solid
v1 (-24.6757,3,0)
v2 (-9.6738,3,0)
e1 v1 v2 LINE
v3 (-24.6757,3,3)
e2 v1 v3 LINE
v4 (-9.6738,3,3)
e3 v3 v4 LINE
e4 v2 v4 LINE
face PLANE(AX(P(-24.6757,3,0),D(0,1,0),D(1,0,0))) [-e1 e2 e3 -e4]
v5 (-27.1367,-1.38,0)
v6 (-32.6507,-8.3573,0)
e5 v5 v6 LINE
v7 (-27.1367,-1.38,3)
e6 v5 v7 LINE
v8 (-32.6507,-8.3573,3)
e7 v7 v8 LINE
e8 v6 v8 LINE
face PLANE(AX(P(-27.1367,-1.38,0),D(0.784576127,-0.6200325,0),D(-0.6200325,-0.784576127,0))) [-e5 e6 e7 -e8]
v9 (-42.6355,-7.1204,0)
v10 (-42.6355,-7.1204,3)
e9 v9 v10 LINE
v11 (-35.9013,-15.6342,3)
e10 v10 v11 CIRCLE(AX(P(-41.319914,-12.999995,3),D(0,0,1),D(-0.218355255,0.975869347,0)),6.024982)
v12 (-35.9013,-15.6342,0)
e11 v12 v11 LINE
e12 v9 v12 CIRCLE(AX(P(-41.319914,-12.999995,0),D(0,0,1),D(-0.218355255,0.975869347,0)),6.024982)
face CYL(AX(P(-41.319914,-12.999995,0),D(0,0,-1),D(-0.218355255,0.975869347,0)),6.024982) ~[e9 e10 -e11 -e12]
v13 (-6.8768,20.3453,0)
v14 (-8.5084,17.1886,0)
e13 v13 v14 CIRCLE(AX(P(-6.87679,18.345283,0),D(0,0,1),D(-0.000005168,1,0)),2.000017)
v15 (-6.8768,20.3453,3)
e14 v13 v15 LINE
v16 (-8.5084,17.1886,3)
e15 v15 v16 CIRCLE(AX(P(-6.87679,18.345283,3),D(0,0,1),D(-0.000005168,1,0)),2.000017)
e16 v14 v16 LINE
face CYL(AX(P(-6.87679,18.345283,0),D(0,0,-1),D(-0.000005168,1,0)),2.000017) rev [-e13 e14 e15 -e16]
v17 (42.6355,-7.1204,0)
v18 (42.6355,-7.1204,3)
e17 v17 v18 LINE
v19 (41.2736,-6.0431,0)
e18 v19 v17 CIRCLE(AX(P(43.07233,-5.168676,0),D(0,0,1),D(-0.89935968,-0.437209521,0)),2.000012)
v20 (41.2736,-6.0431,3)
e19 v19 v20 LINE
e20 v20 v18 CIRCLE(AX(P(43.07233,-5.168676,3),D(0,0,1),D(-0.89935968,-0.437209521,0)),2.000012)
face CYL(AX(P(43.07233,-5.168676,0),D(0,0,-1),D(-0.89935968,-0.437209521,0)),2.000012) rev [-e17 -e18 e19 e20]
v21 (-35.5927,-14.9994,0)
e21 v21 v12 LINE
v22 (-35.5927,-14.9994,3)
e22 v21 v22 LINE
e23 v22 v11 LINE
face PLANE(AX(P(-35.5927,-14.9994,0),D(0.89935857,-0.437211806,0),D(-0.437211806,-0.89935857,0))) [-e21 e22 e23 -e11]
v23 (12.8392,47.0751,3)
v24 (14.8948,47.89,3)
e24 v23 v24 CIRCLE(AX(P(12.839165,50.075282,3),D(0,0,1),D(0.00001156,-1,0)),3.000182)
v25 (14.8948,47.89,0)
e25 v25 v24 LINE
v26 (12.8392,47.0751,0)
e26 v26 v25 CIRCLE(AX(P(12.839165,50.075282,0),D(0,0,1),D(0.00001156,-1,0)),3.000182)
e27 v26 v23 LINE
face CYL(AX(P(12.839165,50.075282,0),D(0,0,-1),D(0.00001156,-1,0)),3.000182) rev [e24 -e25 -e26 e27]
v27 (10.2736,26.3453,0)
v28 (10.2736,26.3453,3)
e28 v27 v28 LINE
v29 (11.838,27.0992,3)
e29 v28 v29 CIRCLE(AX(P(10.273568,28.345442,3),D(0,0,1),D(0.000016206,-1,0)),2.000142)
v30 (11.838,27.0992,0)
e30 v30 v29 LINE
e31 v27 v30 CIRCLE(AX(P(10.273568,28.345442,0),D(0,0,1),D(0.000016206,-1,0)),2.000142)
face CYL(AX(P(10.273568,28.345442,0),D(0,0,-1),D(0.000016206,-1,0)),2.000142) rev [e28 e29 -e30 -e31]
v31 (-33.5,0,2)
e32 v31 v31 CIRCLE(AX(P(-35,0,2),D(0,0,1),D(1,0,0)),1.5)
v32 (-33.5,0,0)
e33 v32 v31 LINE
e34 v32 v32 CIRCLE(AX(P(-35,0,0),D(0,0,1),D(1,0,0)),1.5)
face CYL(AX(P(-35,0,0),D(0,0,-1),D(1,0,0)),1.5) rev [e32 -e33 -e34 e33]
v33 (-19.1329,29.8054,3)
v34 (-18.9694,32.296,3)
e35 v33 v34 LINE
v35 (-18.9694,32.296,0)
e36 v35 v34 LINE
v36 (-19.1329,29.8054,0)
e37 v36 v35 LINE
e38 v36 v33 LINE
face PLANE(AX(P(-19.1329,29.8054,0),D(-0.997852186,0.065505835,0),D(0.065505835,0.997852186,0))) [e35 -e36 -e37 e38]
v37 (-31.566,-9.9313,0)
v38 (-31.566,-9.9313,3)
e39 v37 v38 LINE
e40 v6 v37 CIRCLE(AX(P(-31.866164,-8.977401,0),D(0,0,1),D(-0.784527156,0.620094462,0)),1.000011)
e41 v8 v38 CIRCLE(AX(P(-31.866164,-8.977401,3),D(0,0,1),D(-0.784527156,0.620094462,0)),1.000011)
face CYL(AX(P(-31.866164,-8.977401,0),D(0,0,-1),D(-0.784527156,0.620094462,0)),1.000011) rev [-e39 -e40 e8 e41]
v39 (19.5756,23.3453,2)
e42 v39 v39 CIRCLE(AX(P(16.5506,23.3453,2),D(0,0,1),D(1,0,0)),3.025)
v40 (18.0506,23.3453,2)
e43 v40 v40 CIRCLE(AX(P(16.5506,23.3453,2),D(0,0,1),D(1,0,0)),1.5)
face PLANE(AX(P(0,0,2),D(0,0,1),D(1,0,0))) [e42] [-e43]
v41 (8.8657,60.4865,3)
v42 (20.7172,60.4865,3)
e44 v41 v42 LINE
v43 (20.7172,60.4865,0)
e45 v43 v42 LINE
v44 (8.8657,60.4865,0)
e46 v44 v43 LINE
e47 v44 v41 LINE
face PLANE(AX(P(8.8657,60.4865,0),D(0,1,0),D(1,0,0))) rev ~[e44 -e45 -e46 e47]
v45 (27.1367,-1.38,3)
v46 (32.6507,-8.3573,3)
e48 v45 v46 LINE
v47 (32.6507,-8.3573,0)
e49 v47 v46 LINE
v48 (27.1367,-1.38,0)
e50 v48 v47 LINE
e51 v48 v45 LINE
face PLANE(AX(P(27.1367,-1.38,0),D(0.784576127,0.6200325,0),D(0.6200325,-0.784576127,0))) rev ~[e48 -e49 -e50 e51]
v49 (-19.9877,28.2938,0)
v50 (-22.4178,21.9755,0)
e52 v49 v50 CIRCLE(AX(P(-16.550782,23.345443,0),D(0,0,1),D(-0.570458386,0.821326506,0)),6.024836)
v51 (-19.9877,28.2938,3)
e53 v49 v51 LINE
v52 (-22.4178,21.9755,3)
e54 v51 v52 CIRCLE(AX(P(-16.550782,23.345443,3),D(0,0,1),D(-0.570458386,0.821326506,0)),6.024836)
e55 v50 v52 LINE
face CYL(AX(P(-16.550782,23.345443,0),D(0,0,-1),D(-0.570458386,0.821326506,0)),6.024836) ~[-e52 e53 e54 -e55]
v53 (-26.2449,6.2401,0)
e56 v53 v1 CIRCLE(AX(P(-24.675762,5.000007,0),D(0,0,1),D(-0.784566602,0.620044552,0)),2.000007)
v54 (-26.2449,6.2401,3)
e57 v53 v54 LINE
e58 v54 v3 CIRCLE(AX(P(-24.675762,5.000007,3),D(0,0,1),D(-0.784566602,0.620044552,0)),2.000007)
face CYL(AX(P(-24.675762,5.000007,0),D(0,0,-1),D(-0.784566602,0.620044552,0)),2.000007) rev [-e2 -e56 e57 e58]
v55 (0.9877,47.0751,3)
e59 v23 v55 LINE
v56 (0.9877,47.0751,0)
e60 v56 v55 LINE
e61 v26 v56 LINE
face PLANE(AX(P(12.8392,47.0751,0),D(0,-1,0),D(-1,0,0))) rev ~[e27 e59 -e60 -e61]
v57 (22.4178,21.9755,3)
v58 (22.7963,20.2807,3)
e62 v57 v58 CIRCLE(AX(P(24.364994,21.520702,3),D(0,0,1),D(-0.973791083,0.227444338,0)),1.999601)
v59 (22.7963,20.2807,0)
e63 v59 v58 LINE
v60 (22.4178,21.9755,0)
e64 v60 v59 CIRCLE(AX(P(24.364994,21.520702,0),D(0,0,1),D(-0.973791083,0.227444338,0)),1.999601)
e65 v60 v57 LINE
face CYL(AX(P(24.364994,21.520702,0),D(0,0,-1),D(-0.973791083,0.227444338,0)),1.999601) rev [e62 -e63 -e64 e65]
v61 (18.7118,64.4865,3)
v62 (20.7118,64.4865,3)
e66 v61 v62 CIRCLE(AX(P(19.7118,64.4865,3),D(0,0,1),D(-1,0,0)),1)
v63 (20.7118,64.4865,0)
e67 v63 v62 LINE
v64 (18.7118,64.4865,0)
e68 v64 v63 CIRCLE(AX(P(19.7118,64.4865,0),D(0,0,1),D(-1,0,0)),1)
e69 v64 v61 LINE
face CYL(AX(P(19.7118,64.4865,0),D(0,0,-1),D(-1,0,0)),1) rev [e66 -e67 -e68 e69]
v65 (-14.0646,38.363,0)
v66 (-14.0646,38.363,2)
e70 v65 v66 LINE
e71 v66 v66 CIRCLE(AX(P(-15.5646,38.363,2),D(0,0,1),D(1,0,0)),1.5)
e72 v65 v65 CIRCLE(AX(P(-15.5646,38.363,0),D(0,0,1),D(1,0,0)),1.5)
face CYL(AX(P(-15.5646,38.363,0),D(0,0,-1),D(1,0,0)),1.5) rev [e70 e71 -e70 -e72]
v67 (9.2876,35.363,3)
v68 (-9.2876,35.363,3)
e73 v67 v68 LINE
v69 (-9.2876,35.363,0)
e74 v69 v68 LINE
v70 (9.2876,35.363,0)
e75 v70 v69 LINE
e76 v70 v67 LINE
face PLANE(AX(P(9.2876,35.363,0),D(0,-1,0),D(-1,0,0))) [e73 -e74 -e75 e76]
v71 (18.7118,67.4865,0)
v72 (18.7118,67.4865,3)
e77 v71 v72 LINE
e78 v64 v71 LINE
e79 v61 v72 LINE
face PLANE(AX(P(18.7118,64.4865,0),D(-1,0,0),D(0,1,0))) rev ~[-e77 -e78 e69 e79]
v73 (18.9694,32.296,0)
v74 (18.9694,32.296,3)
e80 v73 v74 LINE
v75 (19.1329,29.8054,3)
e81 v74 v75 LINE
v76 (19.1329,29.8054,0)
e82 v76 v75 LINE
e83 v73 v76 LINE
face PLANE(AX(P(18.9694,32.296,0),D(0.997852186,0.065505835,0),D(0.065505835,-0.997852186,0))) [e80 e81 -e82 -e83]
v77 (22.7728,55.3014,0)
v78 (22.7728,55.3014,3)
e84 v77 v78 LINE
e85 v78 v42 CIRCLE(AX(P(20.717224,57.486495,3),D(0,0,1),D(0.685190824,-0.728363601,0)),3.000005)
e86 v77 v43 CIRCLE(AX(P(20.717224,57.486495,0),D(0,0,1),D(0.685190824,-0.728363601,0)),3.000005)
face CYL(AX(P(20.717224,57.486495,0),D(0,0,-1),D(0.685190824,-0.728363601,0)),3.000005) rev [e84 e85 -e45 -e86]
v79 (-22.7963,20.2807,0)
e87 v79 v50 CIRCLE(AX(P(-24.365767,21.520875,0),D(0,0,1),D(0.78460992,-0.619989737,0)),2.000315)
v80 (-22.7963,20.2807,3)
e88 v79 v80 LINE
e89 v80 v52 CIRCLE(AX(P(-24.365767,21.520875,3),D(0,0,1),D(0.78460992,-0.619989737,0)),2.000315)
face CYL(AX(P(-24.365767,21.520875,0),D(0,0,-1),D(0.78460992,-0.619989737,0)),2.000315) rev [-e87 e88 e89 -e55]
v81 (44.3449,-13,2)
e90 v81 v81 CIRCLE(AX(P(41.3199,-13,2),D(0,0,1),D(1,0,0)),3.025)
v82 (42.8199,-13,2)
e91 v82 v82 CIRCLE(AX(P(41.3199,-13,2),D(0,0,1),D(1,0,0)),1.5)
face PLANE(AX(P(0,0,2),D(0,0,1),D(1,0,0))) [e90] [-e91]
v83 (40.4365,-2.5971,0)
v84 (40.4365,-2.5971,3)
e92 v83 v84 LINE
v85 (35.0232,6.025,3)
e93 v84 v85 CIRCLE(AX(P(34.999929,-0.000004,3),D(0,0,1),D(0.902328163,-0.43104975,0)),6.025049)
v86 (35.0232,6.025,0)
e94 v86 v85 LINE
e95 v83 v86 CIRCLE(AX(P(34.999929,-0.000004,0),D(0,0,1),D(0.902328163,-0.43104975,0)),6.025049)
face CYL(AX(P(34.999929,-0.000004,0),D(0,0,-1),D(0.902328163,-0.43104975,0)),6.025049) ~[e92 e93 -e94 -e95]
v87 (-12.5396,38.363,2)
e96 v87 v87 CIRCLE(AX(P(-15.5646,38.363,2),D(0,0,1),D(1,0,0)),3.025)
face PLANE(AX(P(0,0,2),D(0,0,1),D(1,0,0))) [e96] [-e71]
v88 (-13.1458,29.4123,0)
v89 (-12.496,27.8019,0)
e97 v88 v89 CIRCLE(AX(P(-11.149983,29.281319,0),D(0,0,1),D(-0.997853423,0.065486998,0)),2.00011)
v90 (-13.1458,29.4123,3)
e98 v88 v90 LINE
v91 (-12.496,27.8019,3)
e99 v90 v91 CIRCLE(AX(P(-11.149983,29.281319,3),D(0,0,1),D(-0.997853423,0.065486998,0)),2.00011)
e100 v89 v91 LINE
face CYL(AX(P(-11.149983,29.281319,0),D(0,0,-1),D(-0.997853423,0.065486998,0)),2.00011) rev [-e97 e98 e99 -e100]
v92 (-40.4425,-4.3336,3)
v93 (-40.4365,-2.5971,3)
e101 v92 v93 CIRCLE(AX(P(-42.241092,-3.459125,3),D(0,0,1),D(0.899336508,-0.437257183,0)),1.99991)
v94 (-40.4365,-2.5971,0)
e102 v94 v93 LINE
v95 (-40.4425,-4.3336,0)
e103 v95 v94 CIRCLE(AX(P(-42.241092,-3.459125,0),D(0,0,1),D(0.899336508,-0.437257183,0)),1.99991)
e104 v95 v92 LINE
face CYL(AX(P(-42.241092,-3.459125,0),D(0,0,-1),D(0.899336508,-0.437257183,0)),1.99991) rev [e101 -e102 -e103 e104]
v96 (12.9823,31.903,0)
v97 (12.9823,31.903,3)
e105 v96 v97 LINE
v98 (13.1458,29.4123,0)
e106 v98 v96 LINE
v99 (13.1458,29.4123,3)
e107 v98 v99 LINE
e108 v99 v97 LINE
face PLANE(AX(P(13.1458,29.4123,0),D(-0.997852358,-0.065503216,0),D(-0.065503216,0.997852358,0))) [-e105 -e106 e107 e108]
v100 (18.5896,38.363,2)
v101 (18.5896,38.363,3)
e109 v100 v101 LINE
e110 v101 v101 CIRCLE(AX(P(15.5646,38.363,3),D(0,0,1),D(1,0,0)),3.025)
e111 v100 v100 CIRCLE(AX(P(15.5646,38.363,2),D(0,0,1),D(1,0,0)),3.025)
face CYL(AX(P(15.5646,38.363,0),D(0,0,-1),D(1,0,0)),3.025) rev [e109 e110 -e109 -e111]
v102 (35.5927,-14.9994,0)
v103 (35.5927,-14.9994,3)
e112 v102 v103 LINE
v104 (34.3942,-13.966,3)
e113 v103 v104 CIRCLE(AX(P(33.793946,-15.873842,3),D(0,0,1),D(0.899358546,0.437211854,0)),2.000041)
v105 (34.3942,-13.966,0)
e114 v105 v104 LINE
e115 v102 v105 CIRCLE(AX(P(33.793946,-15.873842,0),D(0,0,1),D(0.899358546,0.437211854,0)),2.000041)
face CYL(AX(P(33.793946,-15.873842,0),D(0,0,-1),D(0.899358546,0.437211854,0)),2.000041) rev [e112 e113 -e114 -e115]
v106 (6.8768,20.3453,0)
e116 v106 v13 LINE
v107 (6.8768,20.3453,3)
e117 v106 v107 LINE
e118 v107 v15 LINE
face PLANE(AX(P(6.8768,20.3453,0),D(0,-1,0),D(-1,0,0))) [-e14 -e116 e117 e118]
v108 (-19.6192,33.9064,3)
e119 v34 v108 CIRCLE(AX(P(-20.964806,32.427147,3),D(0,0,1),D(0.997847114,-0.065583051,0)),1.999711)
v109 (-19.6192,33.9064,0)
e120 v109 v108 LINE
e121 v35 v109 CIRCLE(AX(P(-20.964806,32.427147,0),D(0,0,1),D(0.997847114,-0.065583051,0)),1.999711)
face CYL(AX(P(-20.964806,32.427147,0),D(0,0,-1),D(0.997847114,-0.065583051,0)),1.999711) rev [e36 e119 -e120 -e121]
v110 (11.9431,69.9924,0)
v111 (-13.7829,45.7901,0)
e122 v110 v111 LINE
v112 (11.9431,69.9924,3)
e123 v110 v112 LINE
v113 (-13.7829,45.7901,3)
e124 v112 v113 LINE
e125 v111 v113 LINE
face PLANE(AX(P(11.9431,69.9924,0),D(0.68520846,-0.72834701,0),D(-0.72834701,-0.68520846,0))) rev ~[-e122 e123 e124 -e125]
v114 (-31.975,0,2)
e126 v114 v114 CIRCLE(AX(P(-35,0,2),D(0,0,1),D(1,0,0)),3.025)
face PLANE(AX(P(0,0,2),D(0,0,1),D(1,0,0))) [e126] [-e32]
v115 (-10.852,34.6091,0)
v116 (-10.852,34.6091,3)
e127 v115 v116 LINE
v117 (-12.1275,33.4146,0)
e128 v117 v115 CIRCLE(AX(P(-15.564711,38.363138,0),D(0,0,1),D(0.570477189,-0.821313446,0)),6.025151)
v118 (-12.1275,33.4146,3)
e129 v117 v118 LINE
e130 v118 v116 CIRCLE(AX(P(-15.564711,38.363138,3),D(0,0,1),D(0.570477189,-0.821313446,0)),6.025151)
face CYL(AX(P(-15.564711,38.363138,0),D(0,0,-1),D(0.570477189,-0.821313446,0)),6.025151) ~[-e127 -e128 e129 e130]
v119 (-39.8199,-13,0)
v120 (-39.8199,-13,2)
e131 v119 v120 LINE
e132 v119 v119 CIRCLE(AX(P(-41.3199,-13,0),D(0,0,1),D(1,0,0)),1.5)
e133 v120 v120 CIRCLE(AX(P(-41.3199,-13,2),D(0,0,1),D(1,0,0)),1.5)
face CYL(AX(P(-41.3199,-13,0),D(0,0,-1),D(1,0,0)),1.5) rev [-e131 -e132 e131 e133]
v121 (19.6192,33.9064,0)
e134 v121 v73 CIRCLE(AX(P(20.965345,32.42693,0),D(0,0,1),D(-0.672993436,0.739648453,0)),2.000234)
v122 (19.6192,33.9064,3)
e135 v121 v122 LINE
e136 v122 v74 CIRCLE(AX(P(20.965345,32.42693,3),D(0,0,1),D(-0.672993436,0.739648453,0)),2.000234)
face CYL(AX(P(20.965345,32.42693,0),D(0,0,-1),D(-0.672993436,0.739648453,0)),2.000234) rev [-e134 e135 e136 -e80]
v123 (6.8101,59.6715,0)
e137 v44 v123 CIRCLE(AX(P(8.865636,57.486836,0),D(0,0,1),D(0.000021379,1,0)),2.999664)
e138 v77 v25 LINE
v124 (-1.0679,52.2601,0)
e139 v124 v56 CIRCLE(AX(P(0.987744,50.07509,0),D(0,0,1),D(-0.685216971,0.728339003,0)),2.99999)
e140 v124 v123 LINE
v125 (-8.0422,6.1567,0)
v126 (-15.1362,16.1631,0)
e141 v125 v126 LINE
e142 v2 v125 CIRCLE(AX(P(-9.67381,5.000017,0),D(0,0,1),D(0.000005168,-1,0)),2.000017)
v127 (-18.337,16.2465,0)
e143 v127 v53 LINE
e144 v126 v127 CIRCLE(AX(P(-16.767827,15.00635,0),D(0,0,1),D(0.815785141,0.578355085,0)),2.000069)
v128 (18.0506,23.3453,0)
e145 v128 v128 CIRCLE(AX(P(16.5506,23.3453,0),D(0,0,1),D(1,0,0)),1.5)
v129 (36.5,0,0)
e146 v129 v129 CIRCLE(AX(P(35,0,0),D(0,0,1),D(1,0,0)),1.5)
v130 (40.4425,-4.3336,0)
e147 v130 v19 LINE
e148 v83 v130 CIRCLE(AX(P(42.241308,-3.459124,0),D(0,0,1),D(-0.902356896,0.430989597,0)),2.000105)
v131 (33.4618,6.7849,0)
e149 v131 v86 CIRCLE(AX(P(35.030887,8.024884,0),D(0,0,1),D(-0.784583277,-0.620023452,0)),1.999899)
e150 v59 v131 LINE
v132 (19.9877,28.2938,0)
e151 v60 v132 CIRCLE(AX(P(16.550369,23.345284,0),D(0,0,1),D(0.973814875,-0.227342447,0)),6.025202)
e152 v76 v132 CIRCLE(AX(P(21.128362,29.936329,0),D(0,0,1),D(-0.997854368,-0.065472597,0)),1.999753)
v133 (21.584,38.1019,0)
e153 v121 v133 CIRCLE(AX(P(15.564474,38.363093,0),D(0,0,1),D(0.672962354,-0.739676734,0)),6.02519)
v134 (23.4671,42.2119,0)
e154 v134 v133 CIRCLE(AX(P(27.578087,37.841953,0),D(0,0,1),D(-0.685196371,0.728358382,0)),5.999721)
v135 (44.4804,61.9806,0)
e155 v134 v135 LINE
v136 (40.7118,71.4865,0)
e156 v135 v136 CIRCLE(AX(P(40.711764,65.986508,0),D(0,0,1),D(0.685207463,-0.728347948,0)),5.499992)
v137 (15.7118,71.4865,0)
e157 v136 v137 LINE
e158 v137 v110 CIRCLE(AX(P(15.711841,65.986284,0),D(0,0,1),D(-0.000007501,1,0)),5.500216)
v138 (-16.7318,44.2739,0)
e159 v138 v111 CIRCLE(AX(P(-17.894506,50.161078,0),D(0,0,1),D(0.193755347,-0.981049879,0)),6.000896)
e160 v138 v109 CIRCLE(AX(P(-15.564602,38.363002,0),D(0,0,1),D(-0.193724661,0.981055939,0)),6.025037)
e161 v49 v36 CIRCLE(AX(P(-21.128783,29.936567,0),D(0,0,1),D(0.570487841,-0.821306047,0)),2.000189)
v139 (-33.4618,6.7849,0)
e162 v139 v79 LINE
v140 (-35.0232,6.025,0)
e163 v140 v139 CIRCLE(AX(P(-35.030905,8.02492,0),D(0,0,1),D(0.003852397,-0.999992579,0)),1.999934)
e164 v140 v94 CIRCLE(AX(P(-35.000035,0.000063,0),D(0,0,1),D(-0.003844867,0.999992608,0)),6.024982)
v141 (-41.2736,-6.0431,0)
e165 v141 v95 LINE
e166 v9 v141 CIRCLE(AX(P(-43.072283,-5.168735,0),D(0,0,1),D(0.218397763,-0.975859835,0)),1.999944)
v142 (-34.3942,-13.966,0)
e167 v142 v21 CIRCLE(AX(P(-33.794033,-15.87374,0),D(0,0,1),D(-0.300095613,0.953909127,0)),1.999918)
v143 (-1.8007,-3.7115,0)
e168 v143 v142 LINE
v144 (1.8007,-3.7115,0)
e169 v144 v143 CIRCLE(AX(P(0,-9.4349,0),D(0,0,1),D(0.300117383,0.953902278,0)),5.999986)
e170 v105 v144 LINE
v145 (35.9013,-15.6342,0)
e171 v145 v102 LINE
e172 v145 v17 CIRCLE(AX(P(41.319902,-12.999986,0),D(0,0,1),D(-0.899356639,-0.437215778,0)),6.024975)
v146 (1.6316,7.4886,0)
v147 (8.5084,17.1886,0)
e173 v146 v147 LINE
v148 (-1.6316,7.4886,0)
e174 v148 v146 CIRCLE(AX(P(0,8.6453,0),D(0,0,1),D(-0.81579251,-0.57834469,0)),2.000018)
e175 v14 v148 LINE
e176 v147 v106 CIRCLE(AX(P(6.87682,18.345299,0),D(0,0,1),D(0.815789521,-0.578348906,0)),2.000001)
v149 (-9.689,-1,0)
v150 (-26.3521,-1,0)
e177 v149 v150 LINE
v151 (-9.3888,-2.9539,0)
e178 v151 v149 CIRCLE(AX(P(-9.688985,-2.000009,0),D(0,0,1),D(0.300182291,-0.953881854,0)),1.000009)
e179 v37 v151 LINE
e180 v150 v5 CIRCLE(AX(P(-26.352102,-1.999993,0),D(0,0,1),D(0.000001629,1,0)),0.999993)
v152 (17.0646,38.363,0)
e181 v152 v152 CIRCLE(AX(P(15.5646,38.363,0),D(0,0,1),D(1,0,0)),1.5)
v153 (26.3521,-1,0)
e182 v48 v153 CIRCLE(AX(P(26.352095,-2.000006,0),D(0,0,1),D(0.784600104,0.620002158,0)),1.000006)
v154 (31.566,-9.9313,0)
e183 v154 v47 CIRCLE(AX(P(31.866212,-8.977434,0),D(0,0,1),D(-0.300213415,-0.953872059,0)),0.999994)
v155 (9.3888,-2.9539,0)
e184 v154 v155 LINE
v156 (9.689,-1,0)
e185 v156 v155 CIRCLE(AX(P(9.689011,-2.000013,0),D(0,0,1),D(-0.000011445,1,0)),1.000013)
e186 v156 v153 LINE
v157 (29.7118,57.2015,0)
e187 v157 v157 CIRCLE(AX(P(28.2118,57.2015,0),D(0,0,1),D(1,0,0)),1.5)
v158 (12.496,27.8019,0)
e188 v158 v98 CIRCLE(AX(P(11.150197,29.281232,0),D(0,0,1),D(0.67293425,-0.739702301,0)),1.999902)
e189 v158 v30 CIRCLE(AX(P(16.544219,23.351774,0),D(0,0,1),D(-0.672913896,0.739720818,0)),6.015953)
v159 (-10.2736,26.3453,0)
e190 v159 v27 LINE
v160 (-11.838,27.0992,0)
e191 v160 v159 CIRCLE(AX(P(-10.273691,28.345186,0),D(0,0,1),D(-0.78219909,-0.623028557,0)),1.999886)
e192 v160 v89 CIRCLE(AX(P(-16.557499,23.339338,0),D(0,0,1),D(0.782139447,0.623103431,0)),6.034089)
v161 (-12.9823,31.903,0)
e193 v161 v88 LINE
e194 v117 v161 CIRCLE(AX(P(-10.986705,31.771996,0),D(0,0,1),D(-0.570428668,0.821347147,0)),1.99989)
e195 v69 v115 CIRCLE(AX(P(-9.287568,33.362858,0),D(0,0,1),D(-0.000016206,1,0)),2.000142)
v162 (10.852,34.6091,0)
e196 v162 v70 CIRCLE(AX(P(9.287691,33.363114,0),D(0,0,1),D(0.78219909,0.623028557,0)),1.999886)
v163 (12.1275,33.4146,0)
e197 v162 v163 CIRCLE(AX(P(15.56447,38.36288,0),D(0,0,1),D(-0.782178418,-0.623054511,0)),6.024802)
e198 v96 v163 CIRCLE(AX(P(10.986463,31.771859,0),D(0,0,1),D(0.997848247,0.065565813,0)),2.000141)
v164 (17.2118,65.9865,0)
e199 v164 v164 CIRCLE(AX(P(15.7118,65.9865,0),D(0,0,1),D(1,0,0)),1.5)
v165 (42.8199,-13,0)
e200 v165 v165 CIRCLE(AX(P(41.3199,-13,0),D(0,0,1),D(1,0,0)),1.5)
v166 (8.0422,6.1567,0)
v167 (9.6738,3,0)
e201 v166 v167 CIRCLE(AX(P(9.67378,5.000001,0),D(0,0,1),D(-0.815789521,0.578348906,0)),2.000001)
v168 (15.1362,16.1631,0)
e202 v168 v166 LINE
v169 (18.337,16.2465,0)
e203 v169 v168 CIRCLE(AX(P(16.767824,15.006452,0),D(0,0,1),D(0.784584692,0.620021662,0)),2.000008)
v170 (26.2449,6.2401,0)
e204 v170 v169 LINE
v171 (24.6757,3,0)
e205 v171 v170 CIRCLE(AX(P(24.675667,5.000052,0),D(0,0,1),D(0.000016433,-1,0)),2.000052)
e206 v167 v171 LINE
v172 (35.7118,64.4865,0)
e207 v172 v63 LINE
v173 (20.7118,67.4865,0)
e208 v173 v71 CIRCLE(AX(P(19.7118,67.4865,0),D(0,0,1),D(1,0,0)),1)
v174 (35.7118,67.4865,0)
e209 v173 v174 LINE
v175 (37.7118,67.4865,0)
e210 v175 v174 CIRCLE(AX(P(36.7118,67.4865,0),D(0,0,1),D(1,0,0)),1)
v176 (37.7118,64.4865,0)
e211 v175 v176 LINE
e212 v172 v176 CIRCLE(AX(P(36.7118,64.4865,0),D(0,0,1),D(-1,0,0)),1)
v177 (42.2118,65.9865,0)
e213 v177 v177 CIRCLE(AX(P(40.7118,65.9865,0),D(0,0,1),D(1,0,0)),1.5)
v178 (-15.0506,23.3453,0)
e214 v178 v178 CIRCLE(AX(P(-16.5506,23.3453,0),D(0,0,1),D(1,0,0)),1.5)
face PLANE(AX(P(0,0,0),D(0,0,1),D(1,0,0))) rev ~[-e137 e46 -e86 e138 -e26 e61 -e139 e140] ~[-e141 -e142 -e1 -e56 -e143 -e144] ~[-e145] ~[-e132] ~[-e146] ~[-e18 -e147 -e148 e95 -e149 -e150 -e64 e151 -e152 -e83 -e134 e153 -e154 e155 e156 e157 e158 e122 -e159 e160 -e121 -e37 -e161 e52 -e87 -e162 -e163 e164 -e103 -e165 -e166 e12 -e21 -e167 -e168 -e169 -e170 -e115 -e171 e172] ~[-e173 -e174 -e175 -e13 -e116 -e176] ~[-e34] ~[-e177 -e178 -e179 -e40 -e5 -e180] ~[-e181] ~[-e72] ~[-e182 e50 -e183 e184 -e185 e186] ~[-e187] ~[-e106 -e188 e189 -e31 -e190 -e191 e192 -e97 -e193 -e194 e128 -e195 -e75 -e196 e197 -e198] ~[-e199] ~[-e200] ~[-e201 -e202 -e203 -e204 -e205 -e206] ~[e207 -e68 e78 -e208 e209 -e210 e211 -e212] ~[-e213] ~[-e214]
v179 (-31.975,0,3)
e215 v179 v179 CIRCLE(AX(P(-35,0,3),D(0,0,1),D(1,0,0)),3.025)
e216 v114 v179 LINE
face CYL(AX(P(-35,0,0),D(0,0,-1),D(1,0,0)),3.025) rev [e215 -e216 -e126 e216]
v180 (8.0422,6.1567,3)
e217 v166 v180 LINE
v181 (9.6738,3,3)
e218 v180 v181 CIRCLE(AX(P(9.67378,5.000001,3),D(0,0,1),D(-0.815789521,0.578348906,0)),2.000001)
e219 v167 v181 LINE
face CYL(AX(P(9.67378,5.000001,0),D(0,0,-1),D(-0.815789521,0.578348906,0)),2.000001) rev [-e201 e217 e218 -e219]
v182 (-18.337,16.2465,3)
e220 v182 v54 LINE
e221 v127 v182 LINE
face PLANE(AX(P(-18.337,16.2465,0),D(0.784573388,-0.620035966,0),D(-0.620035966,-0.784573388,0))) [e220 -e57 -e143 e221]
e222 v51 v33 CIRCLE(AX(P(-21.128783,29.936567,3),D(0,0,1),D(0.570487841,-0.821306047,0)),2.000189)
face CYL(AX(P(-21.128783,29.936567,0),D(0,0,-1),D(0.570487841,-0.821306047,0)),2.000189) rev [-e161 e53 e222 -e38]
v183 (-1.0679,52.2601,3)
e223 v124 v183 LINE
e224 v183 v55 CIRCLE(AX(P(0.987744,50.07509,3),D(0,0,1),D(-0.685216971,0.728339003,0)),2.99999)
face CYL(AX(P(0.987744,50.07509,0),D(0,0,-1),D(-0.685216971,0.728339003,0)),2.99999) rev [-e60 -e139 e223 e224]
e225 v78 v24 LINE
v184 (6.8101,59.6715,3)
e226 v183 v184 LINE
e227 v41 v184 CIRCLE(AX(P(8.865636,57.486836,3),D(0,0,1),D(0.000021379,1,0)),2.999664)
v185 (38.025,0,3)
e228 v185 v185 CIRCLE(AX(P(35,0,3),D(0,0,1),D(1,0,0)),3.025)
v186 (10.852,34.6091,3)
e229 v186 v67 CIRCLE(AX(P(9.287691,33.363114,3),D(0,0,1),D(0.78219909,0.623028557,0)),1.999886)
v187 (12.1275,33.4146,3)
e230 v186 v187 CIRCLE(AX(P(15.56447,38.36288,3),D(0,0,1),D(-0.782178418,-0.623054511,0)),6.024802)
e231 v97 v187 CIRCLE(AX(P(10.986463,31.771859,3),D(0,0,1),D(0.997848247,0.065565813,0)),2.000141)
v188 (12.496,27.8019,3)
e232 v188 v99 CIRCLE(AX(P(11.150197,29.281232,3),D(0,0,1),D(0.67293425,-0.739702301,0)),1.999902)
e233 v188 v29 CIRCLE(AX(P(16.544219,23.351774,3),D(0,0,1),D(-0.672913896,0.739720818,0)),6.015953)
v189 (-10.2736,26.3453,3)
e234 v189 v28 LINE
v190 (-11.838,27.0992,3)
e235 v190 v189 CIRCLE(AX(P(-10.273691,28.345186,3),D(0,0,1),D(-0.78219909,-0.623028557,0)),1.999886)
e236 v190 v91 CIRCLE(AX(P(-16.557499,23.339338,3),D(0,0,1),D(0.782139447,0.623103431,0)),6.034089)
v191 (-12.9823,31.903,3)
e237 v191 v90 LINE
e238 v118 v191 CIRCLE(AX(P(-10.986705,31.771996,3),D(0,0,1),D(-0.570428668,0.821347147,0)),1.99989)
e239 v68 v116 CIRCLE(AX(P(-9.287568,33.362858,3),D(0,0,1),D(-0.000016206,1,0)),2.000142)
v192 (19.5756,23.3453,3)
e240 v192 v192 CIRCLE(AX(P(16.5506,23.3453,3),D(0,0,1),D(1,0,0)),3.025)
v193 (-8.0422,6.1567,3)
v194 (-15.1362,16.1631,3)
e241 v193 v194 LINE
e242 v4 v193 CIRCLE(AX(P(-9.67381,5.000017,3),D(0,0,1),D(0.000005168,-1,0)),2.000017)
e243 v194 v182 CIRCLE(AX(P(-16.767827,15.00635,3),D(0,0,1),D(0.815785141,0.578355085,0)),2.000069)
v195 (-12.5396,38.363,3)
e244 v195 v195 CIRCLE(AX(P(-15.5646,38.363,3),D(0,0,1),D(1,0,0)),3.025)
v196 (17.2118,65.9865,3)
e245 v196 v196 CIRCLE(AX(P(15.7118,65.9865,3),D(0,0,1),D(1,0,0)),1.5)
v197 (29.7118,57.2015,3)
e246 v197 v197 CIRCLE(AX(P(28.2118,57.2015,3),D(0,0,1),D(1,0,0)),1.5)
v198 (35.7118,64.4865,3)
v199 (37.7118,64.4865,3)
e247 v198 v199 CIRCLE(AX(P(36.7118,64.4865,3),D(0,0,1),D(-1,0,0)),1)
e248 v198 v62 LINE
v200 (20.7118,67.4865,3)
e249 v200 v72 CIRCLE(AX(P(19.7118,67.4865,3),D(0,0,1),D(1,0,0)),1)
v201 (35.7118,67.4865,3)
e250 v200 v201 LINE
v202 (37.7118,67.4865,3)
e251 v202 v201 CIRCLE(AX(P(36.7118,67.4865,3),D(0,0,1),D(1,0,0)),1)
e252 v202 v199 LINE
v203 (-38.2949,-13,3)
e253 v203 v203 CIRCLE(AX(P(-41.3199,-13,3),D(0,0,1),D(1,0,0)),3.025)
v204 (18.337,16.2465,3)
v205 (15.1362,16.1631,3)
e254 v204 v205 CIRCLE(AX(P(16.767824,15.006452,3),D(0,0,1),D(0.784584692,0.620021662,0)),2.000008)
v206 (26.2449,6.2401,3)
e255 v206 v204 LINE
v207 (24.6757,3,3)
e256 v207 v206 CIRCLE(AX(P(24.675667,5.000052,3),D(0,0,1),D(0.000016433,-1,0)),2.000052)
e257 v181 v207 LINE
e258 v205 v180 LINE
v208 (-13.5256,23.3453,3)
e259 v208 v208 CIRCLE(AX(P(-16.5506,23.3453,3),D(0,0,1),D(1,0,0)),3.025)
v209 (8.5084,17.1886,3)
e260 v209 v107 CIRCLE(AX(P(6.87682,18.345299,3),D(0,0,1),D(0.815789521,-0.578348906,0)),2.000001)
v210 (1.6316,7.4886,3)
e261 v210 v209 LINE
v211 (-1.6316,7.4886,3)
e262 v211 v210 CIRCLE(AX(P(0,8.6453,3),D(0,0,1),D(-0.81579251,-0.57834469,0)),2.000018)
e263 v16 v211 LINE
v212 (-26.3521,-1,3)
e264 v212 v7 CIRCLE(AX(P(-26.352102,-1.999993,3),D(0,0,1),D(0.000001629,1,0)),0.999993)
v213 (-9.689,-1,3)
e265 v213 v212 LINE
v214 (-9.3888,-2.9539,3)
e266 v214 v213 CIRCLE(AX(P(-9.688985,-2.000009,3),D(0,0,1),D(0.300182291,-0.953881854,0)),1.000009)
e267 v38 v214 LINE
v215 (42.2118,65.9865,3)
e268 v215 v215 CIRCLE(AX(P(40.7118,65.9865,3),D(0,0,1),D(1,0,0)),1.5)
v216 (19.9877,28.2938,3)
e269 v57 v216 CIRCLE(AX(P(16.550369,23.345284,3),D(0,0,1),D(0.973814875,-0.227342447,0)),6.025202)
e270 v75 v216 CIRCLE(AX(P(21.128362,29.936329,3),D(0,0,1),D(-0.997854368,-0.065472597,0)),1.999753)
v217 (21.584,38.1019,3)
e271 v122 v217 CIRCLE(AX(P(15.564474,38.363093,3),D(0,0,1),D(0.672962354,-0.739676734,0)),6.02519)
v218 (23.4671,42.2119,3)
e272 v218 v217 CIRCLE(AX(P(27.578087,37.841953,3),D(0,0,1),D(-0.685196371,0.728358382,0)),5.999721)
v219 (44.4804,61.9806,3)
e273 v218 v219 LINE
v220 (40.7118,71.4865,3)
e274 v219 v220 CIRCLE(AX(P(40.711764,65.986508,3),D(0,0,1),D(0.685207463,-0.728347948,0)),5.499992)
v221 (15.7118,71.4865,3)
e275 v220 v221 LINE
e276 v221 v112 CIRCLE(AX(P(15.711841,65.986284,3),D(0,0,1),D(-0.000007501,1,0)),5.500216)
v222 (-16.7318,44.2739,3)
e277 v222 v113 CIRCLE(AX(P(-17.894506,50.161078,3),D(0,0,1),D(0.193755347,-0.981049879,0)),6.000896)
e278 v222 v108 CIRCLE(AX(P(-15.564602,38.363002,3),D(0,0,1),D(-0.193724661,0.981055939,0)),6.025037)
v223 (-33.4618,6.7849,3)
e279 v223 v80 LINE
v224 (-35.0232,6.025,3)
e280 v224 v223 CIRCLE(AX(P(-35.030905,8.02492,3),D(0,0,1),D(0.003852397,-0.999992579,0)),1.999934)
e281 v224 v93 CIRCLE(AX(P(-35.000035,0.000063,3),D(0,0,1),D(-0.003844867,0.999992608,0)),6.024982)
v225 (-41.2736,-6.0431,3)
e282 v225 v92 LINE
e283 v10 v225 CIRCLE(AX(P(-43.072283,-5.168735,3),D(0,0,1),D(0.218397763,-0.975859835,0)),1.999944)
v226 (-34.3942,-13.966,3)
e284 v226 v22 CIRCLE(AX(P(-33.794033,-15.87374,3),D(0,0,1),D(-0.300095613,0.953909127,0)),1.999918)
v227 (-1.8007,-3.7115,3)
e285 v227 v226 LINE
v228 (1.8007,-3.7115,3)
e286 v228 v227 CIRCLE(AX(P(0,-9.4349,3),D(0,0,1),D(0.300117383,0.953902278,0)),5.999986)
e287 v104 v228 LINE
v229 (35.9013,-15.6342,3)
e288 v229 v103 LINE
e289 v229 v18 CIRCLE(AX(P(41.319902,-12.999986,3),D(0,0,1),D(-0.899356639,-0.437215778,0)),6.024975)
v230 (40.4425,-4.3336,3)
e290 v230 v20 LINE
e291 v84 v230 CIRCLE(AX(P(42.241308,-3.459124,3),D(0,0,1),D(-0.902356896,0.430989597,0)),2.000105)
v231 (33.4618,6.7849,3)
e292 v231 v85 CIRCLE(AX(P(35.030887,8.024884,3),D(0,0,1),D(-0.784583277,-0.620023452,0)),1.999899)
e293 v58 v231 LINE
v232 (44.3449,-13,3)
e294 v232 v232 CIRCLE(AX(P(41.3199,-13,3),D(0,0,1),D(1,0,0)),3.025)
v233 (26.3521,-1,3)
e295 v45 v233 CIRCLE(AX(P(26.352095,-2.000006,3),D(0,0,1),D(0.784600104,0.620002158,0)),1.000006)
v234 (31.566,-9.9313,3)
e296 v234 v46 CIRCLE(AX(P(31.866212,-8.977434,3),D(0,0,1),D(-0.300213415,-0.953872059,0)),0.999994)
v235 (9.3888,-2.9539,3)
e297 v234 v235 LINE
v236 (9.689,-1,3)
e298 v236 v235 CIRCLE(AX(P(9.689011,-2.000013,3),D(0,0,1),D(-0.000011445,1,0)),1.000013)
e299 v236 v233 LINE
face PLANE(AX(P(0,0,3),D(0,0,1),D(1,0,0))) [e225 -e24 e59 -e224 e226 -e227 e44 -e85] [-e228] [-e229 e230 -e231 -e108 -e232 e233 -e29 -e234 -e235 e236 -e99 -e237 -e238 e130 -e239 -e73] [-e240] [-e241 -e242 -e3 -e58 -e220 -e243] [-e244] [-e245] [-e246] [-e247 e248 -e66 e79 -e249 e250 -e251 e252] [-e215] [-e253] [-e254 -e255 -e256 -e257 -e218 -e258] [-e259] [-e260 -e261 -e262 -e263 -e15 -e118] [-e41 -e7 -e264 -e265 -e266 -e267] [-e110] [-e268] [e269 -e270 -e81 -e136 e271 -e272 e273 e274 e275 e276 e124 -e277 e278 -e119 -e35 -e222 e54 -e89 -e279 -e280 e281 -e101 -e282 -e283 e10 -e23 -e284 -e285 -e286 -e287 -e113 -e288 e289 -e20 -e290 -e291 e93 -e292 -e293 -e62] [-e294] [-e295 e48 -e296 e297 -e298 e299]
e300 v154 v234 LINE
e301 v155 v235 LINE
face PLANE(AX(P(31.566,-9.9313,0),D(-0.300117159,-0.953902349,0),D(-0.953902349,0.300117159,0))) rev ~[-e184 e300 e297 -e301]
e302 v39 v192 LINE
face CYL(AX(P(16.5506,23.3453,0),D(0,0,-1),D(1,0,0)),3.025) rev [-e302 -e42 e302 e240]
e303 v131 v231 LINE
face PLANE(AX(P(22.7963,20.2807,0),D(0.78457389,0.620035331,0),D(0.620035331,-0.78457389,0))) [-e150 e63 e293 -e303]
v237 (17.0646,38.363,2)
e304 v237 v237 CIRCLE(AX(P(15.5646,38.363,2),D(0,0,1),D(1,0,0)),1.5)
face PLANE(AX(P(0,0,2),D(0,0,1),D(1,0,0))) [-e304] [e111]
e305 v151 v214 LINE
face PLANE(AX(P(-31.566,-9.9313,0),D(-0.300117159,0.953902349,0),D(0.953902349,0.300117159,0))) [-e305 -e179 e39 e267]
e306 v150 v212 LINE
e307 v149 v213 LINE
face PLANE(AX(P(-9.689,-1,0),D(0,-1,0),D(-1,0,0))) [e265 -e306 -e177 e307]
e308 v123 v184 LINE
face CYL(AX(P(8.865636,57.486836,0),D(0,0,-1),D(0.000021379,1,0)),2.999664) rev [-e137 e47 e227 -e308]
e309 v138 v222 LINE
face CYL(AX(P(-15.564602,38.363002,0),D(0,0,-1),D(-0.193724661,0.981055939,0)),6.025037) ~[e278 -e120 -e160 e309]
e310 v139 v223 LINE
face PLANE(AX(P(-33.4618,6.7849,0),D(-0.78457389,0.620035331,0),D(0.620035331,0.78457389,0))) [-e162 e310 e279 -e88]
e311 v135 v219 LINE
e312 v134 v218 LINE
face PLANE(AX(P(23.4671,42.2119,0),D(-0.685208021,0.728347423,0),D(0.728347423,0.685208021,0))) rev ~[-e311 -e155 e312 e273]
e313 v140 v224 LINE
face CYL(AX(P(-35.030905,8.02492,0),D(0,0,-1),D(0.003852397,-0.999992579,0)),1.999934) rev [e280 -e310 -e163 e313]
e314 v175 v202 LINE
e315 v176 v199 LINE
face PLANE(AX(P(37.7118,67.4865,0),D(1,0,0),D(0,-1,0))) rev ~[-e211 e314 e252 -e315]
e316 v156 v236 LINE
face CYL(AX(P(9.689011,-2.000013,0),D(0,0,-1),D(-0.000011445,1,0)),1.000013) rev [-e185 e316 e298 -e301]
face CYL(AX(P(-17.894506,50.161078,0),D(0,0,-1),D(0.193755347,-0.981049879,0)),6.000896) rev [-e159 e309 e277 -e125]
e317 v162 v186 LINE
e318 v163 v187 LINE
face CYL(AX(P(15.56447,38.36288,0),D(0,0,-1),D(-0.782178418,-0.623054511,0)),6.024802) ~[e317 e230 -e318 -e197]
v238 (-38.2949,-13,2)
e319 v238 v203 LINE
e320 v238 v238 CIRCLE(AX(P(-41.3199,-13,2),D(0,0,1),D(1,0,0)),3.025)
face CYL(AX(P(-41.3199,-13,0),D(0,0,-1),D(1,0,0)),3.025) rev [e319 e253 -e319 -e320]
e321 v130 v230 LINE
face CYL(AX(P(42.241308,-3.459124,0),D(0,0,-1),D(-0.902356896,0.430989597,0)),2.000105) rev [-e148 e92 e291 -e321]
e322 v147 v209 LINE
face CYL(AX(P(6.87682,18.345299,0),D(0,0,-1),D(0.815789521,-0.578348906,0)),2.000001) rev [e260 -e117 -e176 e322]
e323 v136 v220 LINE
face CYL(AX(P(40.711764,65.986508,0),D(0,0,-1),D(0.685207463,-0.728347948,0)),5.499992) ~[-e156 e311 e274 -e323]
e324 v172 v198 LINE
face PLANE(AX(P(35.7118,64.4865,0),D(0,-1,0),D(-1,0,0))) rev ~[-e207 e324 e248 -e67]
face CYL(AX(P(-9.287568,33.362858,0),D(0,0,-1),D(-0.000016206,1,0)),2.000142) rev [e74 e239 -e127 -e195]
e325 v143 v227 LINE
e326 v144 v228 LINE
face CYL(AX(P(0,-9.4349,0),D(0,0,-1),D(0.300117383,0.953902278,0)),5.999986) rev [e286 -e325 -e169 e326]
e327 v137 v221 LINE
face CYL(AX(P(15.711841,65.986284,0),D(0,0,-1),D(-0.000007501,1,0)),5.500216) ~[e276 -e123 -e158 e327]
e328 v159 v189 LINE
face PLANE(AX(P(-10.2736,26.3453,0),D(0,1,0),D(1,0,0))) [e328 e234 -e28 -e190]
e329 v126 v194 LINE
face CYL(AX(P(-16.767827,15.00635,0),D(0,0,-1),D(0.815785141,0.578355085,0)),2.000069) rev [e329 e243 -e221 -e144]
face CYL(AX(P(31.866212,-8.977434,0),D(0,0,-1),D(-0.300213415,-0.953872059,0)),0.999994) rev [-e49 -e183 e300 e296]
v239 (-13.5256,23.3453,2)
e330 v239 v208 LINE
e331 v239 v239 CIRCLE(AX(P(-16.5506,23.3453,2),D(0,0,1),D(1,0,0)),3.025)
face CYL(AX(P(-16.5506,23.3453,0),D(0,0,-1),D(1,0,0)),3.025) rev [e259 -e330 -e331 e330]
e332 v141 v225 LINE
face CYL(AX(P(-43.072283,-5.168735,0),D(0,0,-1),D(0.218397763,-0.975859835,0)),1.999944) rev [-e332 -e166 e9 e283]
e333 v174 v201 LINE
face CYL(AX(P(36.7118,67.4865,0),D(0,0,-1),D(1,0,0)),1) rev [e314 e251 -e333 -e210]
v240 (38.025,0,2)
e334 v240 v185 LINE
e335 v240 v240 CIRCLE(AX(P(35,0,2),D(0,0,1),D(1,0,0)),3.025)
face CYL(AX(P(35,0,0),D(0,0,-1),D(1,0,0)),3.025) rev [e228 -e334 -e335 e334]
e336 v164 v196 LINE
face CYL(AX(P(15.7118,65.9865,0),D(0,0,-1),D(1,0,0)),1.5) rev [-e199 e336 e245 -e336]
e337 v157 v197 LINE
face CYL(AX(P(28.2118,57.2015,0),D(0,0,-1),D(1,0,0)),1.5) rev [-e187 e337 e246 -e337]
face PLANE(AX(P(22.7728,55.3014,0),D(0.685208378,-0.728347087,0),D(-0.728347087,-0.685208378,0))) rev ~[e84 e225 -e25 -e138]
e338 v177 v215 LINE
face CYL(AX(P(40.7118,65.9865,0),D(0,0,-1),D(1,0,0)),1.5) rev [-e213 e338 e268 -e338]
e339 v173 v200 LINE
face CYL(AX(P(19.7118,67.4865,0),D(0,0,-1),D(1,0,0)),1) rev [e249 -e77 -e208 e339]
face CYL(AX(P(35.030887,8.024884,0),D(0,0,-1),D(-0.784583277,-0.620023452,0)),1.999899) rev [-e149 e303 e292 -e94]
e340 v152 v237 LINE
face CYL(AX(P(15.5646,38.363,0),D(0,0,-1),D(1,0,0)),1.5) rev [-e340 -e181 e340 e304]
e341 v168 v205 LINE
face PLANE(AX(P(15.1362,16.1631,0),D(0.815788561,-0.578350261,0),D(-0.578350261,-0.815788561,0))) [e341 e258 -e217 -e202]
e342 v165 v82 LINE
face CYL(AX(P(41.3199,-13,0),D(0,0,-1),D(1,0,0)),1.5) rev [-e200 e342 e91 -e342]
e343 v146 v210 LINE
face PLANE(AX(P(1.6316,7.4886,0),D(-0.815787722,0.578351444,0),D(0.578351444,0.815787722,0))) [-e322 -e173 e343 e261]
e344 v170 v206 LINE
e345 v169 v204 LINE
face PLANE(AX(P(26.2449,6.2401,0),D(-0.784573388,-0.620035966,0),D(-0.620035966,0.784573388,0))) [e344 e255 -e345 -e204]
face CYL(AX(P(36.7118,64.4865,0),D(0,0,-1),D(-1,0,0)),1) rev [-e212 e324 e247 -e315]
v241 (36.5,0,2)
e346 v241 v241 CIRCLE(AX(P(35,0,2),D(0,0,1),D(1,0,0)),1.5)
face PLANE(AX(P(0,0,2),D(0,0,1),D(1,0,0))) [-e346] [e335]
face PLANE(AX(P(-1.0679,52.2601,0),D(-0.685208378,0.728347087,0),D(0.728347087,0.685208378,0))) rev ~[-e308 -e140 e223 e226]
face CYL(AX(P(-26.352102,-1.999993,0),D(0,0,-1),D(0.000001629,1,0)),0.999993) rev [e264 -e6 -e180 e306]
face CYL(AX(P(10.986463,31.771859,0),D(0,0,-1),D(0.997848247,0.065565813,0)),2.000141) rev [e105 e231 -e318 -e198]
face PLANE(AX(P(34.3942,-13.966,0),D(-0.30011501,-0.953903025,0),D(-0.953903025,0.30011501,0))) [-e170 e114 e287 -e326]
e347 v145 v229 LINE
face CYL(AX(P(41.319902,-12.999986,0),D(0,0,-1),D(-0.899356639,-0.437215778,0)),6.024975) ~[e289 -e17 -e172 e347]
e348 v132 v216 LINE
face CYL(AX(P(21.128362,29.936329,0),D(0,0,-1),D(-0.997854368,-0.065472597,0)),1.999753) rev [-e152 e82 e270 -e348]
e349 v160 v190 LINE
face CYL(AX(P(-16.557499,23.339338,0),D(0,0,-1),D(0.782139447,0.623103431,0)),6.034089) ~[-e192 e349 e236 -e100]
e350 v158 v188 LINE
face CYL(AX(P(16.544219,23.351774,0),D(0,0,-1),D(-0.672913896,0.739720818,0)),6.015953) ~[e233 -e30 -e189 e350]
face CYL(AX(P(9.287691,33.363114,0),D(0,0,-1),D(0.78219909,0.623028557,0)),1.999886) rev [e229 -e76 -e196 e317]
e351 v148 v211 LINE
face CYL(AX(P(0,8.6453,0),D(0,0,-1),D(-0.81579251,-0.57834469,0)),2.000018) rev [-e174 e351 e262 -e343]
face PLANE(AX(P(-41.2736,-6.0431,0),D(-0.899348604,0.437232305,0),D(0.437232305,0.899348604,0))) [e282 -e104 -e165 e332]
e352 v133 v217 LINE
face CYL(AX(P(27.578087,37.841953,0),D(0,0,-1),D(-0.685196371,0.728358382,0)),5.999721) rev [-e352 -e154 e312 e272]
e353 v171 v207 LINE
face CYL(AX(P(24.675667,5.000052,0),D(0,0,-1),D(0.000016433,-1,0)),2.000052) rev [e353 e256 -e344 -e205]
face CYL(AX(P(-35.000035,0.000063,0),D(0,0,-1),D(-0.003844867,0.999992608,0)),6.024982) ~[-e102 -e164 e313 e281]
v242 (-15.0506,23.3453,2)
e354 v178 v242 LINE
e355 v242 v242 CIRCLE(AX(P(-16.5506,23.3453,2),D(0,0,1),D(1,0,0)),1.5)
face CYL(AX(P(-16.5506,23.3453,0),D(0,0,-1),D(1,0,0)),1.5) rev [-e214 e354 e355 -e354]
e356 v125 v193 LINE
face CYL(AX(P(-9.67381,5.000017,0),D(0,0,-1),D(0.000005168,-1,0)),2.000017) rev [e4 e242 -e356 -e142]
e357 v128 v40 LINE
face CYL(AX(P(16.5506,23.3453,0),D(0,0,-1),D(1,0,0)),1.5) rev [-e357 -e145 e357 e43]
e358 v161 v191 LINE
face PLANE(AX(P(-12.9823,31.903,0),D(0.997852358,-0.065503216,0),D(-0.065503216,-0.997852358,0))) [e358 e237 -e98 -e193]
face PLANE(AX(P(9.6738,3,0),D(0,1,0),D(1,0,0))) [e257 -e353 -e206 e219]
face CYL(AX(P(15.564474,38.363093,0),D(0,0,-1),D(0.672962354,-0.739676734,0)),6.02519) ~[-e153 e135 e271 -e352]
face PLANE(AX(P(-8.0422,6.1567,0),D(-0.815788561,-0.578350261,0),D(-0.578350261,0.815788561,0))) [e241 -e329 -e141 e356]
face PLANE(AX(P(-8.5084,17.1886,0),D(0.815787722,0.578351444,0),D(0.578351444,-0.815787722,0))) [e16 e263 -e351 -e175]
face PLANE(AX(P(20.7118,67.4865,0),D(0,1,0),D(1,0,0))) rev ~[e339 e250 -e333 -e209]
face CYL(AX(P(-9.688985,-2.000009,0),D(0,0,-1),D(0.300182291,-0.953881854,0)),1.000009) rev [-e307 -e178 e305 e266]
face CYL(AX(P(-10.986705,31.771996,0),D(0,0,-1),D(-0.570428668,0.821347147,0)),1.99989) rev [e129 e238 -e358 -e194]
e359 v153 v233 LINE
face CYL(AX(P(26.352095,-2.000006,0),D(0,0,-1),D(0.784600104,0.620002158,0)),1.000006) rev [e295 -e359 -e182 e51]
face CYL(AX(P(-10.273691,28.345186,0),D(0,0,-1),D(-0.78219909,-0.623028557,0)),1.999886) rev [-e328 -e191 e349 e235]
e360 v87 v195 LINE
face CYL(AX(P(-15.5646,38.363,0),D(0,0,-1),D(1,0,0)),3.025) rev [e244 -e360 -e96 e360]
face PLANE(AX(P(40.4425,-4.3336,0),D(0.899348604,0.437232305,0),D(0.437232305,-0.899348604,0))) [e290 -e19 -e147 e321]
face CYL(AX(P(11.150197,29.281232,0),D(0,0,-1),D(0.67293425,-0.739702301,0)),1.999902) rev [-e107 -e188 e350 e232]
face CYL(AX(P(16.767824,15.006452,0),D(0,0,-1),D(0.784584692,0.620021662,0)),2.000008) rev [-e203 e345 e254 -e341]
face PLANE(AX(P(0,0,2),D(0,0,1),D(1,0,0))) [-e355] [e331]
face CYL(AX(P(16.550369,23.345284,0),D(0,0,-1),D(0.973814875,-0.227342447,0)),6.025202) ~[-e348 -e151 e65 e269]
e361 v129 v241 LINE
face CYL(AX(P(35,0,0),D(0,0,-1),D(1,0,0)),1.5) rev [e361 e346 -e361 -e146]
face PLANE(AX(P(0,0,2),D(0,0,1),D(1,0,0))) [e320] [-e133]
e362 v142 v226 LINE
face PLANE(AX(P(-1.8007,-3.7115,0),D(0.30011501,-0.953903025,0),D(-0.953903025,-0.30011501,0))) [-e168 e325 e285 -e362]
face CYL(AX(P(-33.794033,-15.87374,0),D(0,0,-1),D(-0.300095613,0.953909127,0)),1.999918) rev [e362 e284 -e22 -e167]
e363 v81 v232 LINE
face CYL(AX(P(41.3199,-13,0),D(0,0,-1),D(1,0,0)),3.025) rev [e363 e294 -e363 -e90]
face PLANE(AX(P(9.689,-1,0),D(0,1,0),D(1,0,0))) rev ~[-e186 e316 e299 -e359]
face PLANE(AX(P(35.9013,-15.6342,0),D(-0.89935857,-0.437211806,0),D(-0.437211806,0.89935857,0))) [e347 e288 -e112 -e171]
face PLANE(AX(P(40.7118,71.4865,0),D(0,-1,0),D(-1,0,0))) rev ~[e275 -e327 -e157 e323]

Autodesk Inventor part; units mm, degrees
ref_plane "YZ Plane" through (0, 0, 0) normal (1, 0, 0) x (0, 1, 0)
ref_plane "XZ Plane" through (0, 0, 0) normal (0, 1, 0) x (-1, 0, 0)
ref_plane "XY Plane" through (0, 0, 0) normal (0, 0, 1) x (1, 0, 0)
sketch "スケッチ1" plane through (0, 0, 0) normal (0, 0, 1) x (1, 0, 0)
  line L0 (35.7118, 64.4865) -> (20.7118, 64.4865)
  arc A0 (18.7118, 64.4865) -> (20.7118, 64.4865) centre (19.7118, 64.4865) ccw
  line L1 (18.7118, 64.4865) -> (18.7118, 67.4865)
  arc A1 (20.7118, 67.4865) -> (18.7118, 67.4865) centre (19.7118, 67.4865) ccw
  line L2 (20.7118, 67.4865) -> (35.7118, 67.4865)
  arc A2 (37.7118, 67.4865) -> (35.7118, 67.4865) centre (36.7118, 67.4865) ccw
  line L3 (37.7118, 67.4865) -> (37.7118, 64.4865)
  arc A3 (35.7118, 64.4865) -> (37.7118, 64.4865) centre (36.7118, 64.4865) ccw
  line L4 (8.8657, 60.4865) -> (20.7172, 60.4865)
  arc A4 (22.7728, 55.3014) -> (20.7172, 60.4865) centre (20.7172, 57.4865) ccw
  line L5 (22.7728, 55.3014) -> (14.8948, 47.89)
  arc A5 (12.8392, 47.0751) -> (14.8948, 47.89) centre (12.8392, 50.0751) ccw
  line L6 (12.8392, 47.0751) -> (0.9877, 47.0751)
  arc A6 (-1.0679, 52.2601) -> (0.9877, 47.0751) centre (0.9877, 50.0751) ccw
  line L7 (-1.0679, 52.2601) -> (6.8101, 59.6715)
  arc A7 (8.8657, 60.4865) -> (6.8101, 59.6715) centre (8.8657, 57.4865) ccw
  circle A8 centre (40.7118, 65.9865) radius 1.5
  circle A9 centre (28.2118, 57.2015) radius 1.5
  circle A10 centre (15.7118, 65.9865) radius 1.5
  circle A11 centre (41.3199, -13) radius 1.5
  circle A12 centre (-35, 0) radius 1.5
  circle A13 centre (-16.5506, 23.3453) radius 1.5
  circle A14 centre (35, 0) radius 1.5
  circle A15 centre (15.5646, 38.363) radius 1.5
  circle A16 centre (-41.3199, -13) radius 1.5
  circle A17 centre (-15.5646, 38.363) radius 1.5
  circle A18 centre (16.5506, 23.3453) radius 1.5
  line L8 (-1.8007, -3.7115) -> (-34.3942, -13.966)
  arc A19 (1.8007, -3.7115) -> (-1.8007, -3.7115) centre (0, -9.4349) ccw
  line L9 (34.3942, -13.966) -> (1.8007, -3.7115)
  arc A20 (35.5927, -14.9994) -> (34.3942, -13.966) centre (33.794, -15.8738) ccw
  line L10 (35.9013, -15.6342) -> (35.5927, -14.9994)
  arc A21 (35.9013, -15.6342) -> (42.6355, -7.1204) centre (41.3199, -13) ccw
  arc A22 (41.2736, -6.0431) -> (42.6355, -7.1204) centre (43.0723, -5.1687) ccw
  line L11 (40.4425, -4.3336) -> (41.2736, -6.0431)
  arc A23 (40.4365, -2.5971) -> (40.4425, -4.3336) centre (42.2412, -3.4591) ccw
  arc A24 (40.4365, -2.5971) -> (35.0232, 6.025) centre (35, 0) ccw
  arc A25 (33.4618, 6.7849) -> (35.0232, 6.025) centre (35.0309, 8.0249) ccw
  line L12 (22.7963, 20.2807) -> (33.4618, 6.7849)
  arc A26 (22.4178, 21.9755) -> (22.7963, 20.2807) centre (24.3654, 21.5207) ccw
  arc A27 (22.4178, 21.9755) -> (19.9877, 28.2938) centre (16.5506, 23.3453) ccw
  arc A28 (19.1329, 29.8054) -> (19.9877, 28.2938) centre (21.1286, 29.9364) ccw
  line L13 (18.9694, 32.296) -> (19.1329, 29.8054)
  arc A29 (19.6192, 33.9064) -> (18.9694, 32.296) centre (20.9651, 32.4271) ccw
  arc A30 (19.6192, 33.9064) -> (21.584, 38.1019) centre (15.5646, 38.363) ccw
  arc A31 (23.4671, 42.2119) -> (21.584, 38.1019) centre (27.5783, 37.8418) ccw
  line L14 (23.4671, 42.2119) -> (44.4804, 61.9806)
  arc A32 (44.4804, 61.9806) -> (40.7118, 71.4865) centre (40.7118, 65.9865) ccw
  line L15 (40.7118, 71.4865) -> (15.7118, 71.4865)
  arc A33 (15.7118, 71.4865) -> (11.9431, 69.9924) centre (15.7118, 65.9865) ccw
  line L16 (11.9431, 69.9924) -> (-13.7829, 45.7901)
  arc A34 (-16.7318, 44.2739) -> (-13.7829, 45.7901) centre (-17.8942, 50.1602) ccw
  arc A35 (-16.7318, 44.2739) -> (-19.6192, 33.9064) centre (-15.5646, 38.363) ccw
  arc A36 (-18.9694, 32.296) -> (-19.6192, 33.9064) centre (-20.9651, 32.4271) ccw
  line L17 (-19.1329, 29.8054) -> (-18.9694, 32.296)
  arc A37 (-19.9877, 28.2938) -> (-19.1329, 29.8054) centre (-21.1286, 29.9364) ccw
  arc A38 (-19.9877, 28.2938) -> (-22.4178, 21.9755) centre (-16.5506, 23.3453) ccw
  arc A39 (-22.7963, 20.2807) -> (-22.4178, 21.9755) centre (-24.3654, 21.5207) ccw
  line L18 (-33.4618, 6.7849) -> (-22.7963, 20.2807)
  arc A40 (-35.0232, 6.025) -> (-33.4618, 6.7849) centre (-35.0309, 8.0249) ccw
  arc A41 (-35.0232, 6.025) -> (-40.4365, -2.5971) centre (-35, 0) ccw
  arc A42 (-40.4425, -4.3336) -> (-40.4365, -2.5971) centre (-42.2412, -3.4591) ccw
  line L19 (-41.2736, -6.0431) -> (-40.4425, -4.3336)
  arc A43 (-42.6355, -7.1204) -> (-41.2736, -6.0431) centre (-43.0723, -5.1687) ccw
  arc A44 (-42.6355, -7.1204) -> (-35.9013, -15.6342) centre (-41.3199, -13) ccw
  line L20 (-35.5927, -14.9994) -> (-35.9013, -15.6342)
  arc A45 (-34.3942, -13.966) -> (-35.5927, -14.9994) centre (-33.794, -15.8738) ccw
  arc A46 (-13.1458, 29.4123) -> (-12.496, 27.8019) centre (-11.1501, 29.2813) ccw
  line L21 (-12.9823, 31.903) -> (-13.1458, 29.4123)
  arc A47 (-12.1275, 33.4146) -> (-12.9823, 31.903) centre (-10.9866, 31.7719) ccw
  arc A48 (-12.1275, 33.4146) -> (-10.852, 34.6091) centre (-15.5646, 38.363) ccw
  arc A49 (-9.2876, 35.363) -> (-10.852, 34.6091) centre (-9.2876, 33.363) ccw
  line L22 (9.2876, 35.363) -> (-9.2876, 35.363)
  arc A50 (10.852, 34.6091) -> (9.2876, 35.363) centre (9.2876, 33.363) ccw
  arc A51 (10.852, 34.6091) -> (12.1275, 33.4146) centre (15.5646, 38.363) ccw
  arc A52 (12.9823, 31.903) -> (12.1275, 33.4146) centre (10.9866, 31.7719) ccw
  line L23 (13.1458, 29.4123) -> (12.9823, 31.903)
  arc A53 (12.496, 27.8019) -> (13.1458, 29.4123) centre (11.1501, 29.2813) ccw
  arc A54 (12.496, 27.8019) -> (11.838, 27.0992) centre (16.5506, 23.3453) ccw
  arc A55 (10.2736, 26.3453) -> (11.838, 27.0992) centre (10.2736, 28.3453) ccw
  line L24 (-10.2736, 26.3453) -> (10.2736, 26.3453)
  arc A56 (-11.838, 27.0992) -> (-10.2736, 26.3453) centre (-10.2736, 28.3453) ccw
  arc A57 (-11.838, 27.0992) -> (-12.496, 27.8019) centre (-16.5506, 23.3453) ccw
  arc A58 (-15.1362, 16.1631) -> (-18.337, 16.2465) centre (-16.7678, 15.0064) ccw
  line L25 (-8.0422, 6.1567) -> (-15.1362, 16.1631)
  arc A59 (-9.6738, 3) -> (-8.0422, 6.1567) centre (-9.6738, 5) ccw
  line L26 (-24.6757, 3) -> (-9.6738, 3)
  arc A60 (-26.2449, 6.2401) -> (-24.6757, 3) centre (-24.6757, 5) ccw
  line L27 (-18.337, 16.2465) -> (-26.2449, 6.2401)
  arc A61 (8.5084, 17.1886) -> (6.8768, 20.3453) centre (6.8768, 18.3453) ccw
  line L28 (1.6316, 7.4886) -> (8.5084, 17.1886)
  arc A62 (-1.6316, 7.4886) -> (1.6316, 7.4886) centre (0, 8.6453) ccw
  line L29 (-8.5084, 17.1886) -> (-1.6316, 7.4886)
  arc A63 (-6.8768, 20.3453) -> (-8.5084, 17.1886) centre (-6.8768, 18.3453) ccw
  line L30 (6.8768, 20.3453) -> (-6.8768, 20.3453)
  arc A64 (18.337, 16.2465) -> (15.1362, 16.1631) centre (16.7678, 15.0064) ccw
  line L31 (26.2449, 6.2401) -> (18.337, 16.2465)
  arc A65 (24.6757, 3) -> (26.2449, 6.2401) centre (24.6757, 5) ccw
  line L32 (9.6738, 3) -> (24.6757, 3)
  arc A66 (8.0422, 6.1567) -> (9.6738, 3) centre (9.6738, 5) ccw
  line L33 (15.1362, 16.1631) -> (8.0422, 6.1567)
  circle A67 centre (-15.5646, 38.363) radius 3.025
  circle A68 centre (15.5646, 38.363) radius 3.025
  circle A69 centre (-16.5506, 23.3453) radius 3.025
  circle A70 centre (16.5506, 23.3453) radius 3.025
  circle A71 centre (-35, 0) radius 3.025
  circle A72 centre (-41.3199, -13) radius 3.025
  circle A73 centre (35, 0) radius 3.025
  circle A74 centre (41.3199, -13) radius 3.025
  line L34 (-9.689, -1) -> (-26.3521, -1)
  arc A75 (-9.3888, -2.9539) -> (-9.689, -1) centre (-9.689, -2) ccw
  arc A76 (-26.3521, -1) -> (-27.1367, -1.38) centre (-26.3521, -2) ccw
  line L35 (-27.1367, -1.38) -> (-32.6507, -8.3573)
  arc A77 (-32.6507, -8.3573) -> (-31.566, -9.9313) centre (-31.8662, -8.9774) ccw
  line L36 (-31.566, -9.9313) -> (-9.3888, -2.9539)
  line L37 (-30.3112, 1.0543) -> (-35.8789, -5.9908) construction
  line L38 (0, 0) -> (0, 2.2652) construction
  line L39 (9.689, -1) -> (26.3521, -1)
  arc A78 (9.689, -1) -> (9.3888, -2.9539) centre (9.689, -2) ccw
  arc A79 (27.1367, -1.38) -> (26.3521, -1) centre (26.3521, -2) ccw
  line L40 (27.1367, -1.38) -> (32.6507, -8.3573)
  arc A80 (31.566, -9.9313) -> (32.6507, -8.3573) centre (31.8662, -8.9774) ccw
  line L41 (31.566, -9.9313) -> (9.3888, -2.9539)
  dimension "d0" = 6.05
  dimension "d1" = 6.05
  dimension "d2" = 6.05
  dimension "d3" = 6.05
  dimension "d4" = 6.05
  dimension "d5" = 6.05
  dimension "d6" = 6.05
  dimension "d7" = 6.05
  dimension "d12" = 1
  dimension "d13" = 1
  dimension "d14" = 1
  dimension "d15" = 3
  dimension "d16" = 4
  dimension "d18" = 4
extrude "押し出し1" add sketch "スケッチ1" along normal blind 3 contours L8 A45 L20 A44 A43 L19 A42 A41 A40 L18 A39 A38 A37 L17 A36 A35 A34 L16 A33 L15 A32 L14 A31 A30 A29 L13 A28 A27 A26 L12 A25 A24 A23 L11 A22 A21 L10 A20 L9 A19
extrude "押し出し2" add sketch "スケッチ1" along normal blind 2 contours A67 | A68 | A69 | A70 | A71 | A72 | A73 | A74
properties part number "外中間ユニット"
